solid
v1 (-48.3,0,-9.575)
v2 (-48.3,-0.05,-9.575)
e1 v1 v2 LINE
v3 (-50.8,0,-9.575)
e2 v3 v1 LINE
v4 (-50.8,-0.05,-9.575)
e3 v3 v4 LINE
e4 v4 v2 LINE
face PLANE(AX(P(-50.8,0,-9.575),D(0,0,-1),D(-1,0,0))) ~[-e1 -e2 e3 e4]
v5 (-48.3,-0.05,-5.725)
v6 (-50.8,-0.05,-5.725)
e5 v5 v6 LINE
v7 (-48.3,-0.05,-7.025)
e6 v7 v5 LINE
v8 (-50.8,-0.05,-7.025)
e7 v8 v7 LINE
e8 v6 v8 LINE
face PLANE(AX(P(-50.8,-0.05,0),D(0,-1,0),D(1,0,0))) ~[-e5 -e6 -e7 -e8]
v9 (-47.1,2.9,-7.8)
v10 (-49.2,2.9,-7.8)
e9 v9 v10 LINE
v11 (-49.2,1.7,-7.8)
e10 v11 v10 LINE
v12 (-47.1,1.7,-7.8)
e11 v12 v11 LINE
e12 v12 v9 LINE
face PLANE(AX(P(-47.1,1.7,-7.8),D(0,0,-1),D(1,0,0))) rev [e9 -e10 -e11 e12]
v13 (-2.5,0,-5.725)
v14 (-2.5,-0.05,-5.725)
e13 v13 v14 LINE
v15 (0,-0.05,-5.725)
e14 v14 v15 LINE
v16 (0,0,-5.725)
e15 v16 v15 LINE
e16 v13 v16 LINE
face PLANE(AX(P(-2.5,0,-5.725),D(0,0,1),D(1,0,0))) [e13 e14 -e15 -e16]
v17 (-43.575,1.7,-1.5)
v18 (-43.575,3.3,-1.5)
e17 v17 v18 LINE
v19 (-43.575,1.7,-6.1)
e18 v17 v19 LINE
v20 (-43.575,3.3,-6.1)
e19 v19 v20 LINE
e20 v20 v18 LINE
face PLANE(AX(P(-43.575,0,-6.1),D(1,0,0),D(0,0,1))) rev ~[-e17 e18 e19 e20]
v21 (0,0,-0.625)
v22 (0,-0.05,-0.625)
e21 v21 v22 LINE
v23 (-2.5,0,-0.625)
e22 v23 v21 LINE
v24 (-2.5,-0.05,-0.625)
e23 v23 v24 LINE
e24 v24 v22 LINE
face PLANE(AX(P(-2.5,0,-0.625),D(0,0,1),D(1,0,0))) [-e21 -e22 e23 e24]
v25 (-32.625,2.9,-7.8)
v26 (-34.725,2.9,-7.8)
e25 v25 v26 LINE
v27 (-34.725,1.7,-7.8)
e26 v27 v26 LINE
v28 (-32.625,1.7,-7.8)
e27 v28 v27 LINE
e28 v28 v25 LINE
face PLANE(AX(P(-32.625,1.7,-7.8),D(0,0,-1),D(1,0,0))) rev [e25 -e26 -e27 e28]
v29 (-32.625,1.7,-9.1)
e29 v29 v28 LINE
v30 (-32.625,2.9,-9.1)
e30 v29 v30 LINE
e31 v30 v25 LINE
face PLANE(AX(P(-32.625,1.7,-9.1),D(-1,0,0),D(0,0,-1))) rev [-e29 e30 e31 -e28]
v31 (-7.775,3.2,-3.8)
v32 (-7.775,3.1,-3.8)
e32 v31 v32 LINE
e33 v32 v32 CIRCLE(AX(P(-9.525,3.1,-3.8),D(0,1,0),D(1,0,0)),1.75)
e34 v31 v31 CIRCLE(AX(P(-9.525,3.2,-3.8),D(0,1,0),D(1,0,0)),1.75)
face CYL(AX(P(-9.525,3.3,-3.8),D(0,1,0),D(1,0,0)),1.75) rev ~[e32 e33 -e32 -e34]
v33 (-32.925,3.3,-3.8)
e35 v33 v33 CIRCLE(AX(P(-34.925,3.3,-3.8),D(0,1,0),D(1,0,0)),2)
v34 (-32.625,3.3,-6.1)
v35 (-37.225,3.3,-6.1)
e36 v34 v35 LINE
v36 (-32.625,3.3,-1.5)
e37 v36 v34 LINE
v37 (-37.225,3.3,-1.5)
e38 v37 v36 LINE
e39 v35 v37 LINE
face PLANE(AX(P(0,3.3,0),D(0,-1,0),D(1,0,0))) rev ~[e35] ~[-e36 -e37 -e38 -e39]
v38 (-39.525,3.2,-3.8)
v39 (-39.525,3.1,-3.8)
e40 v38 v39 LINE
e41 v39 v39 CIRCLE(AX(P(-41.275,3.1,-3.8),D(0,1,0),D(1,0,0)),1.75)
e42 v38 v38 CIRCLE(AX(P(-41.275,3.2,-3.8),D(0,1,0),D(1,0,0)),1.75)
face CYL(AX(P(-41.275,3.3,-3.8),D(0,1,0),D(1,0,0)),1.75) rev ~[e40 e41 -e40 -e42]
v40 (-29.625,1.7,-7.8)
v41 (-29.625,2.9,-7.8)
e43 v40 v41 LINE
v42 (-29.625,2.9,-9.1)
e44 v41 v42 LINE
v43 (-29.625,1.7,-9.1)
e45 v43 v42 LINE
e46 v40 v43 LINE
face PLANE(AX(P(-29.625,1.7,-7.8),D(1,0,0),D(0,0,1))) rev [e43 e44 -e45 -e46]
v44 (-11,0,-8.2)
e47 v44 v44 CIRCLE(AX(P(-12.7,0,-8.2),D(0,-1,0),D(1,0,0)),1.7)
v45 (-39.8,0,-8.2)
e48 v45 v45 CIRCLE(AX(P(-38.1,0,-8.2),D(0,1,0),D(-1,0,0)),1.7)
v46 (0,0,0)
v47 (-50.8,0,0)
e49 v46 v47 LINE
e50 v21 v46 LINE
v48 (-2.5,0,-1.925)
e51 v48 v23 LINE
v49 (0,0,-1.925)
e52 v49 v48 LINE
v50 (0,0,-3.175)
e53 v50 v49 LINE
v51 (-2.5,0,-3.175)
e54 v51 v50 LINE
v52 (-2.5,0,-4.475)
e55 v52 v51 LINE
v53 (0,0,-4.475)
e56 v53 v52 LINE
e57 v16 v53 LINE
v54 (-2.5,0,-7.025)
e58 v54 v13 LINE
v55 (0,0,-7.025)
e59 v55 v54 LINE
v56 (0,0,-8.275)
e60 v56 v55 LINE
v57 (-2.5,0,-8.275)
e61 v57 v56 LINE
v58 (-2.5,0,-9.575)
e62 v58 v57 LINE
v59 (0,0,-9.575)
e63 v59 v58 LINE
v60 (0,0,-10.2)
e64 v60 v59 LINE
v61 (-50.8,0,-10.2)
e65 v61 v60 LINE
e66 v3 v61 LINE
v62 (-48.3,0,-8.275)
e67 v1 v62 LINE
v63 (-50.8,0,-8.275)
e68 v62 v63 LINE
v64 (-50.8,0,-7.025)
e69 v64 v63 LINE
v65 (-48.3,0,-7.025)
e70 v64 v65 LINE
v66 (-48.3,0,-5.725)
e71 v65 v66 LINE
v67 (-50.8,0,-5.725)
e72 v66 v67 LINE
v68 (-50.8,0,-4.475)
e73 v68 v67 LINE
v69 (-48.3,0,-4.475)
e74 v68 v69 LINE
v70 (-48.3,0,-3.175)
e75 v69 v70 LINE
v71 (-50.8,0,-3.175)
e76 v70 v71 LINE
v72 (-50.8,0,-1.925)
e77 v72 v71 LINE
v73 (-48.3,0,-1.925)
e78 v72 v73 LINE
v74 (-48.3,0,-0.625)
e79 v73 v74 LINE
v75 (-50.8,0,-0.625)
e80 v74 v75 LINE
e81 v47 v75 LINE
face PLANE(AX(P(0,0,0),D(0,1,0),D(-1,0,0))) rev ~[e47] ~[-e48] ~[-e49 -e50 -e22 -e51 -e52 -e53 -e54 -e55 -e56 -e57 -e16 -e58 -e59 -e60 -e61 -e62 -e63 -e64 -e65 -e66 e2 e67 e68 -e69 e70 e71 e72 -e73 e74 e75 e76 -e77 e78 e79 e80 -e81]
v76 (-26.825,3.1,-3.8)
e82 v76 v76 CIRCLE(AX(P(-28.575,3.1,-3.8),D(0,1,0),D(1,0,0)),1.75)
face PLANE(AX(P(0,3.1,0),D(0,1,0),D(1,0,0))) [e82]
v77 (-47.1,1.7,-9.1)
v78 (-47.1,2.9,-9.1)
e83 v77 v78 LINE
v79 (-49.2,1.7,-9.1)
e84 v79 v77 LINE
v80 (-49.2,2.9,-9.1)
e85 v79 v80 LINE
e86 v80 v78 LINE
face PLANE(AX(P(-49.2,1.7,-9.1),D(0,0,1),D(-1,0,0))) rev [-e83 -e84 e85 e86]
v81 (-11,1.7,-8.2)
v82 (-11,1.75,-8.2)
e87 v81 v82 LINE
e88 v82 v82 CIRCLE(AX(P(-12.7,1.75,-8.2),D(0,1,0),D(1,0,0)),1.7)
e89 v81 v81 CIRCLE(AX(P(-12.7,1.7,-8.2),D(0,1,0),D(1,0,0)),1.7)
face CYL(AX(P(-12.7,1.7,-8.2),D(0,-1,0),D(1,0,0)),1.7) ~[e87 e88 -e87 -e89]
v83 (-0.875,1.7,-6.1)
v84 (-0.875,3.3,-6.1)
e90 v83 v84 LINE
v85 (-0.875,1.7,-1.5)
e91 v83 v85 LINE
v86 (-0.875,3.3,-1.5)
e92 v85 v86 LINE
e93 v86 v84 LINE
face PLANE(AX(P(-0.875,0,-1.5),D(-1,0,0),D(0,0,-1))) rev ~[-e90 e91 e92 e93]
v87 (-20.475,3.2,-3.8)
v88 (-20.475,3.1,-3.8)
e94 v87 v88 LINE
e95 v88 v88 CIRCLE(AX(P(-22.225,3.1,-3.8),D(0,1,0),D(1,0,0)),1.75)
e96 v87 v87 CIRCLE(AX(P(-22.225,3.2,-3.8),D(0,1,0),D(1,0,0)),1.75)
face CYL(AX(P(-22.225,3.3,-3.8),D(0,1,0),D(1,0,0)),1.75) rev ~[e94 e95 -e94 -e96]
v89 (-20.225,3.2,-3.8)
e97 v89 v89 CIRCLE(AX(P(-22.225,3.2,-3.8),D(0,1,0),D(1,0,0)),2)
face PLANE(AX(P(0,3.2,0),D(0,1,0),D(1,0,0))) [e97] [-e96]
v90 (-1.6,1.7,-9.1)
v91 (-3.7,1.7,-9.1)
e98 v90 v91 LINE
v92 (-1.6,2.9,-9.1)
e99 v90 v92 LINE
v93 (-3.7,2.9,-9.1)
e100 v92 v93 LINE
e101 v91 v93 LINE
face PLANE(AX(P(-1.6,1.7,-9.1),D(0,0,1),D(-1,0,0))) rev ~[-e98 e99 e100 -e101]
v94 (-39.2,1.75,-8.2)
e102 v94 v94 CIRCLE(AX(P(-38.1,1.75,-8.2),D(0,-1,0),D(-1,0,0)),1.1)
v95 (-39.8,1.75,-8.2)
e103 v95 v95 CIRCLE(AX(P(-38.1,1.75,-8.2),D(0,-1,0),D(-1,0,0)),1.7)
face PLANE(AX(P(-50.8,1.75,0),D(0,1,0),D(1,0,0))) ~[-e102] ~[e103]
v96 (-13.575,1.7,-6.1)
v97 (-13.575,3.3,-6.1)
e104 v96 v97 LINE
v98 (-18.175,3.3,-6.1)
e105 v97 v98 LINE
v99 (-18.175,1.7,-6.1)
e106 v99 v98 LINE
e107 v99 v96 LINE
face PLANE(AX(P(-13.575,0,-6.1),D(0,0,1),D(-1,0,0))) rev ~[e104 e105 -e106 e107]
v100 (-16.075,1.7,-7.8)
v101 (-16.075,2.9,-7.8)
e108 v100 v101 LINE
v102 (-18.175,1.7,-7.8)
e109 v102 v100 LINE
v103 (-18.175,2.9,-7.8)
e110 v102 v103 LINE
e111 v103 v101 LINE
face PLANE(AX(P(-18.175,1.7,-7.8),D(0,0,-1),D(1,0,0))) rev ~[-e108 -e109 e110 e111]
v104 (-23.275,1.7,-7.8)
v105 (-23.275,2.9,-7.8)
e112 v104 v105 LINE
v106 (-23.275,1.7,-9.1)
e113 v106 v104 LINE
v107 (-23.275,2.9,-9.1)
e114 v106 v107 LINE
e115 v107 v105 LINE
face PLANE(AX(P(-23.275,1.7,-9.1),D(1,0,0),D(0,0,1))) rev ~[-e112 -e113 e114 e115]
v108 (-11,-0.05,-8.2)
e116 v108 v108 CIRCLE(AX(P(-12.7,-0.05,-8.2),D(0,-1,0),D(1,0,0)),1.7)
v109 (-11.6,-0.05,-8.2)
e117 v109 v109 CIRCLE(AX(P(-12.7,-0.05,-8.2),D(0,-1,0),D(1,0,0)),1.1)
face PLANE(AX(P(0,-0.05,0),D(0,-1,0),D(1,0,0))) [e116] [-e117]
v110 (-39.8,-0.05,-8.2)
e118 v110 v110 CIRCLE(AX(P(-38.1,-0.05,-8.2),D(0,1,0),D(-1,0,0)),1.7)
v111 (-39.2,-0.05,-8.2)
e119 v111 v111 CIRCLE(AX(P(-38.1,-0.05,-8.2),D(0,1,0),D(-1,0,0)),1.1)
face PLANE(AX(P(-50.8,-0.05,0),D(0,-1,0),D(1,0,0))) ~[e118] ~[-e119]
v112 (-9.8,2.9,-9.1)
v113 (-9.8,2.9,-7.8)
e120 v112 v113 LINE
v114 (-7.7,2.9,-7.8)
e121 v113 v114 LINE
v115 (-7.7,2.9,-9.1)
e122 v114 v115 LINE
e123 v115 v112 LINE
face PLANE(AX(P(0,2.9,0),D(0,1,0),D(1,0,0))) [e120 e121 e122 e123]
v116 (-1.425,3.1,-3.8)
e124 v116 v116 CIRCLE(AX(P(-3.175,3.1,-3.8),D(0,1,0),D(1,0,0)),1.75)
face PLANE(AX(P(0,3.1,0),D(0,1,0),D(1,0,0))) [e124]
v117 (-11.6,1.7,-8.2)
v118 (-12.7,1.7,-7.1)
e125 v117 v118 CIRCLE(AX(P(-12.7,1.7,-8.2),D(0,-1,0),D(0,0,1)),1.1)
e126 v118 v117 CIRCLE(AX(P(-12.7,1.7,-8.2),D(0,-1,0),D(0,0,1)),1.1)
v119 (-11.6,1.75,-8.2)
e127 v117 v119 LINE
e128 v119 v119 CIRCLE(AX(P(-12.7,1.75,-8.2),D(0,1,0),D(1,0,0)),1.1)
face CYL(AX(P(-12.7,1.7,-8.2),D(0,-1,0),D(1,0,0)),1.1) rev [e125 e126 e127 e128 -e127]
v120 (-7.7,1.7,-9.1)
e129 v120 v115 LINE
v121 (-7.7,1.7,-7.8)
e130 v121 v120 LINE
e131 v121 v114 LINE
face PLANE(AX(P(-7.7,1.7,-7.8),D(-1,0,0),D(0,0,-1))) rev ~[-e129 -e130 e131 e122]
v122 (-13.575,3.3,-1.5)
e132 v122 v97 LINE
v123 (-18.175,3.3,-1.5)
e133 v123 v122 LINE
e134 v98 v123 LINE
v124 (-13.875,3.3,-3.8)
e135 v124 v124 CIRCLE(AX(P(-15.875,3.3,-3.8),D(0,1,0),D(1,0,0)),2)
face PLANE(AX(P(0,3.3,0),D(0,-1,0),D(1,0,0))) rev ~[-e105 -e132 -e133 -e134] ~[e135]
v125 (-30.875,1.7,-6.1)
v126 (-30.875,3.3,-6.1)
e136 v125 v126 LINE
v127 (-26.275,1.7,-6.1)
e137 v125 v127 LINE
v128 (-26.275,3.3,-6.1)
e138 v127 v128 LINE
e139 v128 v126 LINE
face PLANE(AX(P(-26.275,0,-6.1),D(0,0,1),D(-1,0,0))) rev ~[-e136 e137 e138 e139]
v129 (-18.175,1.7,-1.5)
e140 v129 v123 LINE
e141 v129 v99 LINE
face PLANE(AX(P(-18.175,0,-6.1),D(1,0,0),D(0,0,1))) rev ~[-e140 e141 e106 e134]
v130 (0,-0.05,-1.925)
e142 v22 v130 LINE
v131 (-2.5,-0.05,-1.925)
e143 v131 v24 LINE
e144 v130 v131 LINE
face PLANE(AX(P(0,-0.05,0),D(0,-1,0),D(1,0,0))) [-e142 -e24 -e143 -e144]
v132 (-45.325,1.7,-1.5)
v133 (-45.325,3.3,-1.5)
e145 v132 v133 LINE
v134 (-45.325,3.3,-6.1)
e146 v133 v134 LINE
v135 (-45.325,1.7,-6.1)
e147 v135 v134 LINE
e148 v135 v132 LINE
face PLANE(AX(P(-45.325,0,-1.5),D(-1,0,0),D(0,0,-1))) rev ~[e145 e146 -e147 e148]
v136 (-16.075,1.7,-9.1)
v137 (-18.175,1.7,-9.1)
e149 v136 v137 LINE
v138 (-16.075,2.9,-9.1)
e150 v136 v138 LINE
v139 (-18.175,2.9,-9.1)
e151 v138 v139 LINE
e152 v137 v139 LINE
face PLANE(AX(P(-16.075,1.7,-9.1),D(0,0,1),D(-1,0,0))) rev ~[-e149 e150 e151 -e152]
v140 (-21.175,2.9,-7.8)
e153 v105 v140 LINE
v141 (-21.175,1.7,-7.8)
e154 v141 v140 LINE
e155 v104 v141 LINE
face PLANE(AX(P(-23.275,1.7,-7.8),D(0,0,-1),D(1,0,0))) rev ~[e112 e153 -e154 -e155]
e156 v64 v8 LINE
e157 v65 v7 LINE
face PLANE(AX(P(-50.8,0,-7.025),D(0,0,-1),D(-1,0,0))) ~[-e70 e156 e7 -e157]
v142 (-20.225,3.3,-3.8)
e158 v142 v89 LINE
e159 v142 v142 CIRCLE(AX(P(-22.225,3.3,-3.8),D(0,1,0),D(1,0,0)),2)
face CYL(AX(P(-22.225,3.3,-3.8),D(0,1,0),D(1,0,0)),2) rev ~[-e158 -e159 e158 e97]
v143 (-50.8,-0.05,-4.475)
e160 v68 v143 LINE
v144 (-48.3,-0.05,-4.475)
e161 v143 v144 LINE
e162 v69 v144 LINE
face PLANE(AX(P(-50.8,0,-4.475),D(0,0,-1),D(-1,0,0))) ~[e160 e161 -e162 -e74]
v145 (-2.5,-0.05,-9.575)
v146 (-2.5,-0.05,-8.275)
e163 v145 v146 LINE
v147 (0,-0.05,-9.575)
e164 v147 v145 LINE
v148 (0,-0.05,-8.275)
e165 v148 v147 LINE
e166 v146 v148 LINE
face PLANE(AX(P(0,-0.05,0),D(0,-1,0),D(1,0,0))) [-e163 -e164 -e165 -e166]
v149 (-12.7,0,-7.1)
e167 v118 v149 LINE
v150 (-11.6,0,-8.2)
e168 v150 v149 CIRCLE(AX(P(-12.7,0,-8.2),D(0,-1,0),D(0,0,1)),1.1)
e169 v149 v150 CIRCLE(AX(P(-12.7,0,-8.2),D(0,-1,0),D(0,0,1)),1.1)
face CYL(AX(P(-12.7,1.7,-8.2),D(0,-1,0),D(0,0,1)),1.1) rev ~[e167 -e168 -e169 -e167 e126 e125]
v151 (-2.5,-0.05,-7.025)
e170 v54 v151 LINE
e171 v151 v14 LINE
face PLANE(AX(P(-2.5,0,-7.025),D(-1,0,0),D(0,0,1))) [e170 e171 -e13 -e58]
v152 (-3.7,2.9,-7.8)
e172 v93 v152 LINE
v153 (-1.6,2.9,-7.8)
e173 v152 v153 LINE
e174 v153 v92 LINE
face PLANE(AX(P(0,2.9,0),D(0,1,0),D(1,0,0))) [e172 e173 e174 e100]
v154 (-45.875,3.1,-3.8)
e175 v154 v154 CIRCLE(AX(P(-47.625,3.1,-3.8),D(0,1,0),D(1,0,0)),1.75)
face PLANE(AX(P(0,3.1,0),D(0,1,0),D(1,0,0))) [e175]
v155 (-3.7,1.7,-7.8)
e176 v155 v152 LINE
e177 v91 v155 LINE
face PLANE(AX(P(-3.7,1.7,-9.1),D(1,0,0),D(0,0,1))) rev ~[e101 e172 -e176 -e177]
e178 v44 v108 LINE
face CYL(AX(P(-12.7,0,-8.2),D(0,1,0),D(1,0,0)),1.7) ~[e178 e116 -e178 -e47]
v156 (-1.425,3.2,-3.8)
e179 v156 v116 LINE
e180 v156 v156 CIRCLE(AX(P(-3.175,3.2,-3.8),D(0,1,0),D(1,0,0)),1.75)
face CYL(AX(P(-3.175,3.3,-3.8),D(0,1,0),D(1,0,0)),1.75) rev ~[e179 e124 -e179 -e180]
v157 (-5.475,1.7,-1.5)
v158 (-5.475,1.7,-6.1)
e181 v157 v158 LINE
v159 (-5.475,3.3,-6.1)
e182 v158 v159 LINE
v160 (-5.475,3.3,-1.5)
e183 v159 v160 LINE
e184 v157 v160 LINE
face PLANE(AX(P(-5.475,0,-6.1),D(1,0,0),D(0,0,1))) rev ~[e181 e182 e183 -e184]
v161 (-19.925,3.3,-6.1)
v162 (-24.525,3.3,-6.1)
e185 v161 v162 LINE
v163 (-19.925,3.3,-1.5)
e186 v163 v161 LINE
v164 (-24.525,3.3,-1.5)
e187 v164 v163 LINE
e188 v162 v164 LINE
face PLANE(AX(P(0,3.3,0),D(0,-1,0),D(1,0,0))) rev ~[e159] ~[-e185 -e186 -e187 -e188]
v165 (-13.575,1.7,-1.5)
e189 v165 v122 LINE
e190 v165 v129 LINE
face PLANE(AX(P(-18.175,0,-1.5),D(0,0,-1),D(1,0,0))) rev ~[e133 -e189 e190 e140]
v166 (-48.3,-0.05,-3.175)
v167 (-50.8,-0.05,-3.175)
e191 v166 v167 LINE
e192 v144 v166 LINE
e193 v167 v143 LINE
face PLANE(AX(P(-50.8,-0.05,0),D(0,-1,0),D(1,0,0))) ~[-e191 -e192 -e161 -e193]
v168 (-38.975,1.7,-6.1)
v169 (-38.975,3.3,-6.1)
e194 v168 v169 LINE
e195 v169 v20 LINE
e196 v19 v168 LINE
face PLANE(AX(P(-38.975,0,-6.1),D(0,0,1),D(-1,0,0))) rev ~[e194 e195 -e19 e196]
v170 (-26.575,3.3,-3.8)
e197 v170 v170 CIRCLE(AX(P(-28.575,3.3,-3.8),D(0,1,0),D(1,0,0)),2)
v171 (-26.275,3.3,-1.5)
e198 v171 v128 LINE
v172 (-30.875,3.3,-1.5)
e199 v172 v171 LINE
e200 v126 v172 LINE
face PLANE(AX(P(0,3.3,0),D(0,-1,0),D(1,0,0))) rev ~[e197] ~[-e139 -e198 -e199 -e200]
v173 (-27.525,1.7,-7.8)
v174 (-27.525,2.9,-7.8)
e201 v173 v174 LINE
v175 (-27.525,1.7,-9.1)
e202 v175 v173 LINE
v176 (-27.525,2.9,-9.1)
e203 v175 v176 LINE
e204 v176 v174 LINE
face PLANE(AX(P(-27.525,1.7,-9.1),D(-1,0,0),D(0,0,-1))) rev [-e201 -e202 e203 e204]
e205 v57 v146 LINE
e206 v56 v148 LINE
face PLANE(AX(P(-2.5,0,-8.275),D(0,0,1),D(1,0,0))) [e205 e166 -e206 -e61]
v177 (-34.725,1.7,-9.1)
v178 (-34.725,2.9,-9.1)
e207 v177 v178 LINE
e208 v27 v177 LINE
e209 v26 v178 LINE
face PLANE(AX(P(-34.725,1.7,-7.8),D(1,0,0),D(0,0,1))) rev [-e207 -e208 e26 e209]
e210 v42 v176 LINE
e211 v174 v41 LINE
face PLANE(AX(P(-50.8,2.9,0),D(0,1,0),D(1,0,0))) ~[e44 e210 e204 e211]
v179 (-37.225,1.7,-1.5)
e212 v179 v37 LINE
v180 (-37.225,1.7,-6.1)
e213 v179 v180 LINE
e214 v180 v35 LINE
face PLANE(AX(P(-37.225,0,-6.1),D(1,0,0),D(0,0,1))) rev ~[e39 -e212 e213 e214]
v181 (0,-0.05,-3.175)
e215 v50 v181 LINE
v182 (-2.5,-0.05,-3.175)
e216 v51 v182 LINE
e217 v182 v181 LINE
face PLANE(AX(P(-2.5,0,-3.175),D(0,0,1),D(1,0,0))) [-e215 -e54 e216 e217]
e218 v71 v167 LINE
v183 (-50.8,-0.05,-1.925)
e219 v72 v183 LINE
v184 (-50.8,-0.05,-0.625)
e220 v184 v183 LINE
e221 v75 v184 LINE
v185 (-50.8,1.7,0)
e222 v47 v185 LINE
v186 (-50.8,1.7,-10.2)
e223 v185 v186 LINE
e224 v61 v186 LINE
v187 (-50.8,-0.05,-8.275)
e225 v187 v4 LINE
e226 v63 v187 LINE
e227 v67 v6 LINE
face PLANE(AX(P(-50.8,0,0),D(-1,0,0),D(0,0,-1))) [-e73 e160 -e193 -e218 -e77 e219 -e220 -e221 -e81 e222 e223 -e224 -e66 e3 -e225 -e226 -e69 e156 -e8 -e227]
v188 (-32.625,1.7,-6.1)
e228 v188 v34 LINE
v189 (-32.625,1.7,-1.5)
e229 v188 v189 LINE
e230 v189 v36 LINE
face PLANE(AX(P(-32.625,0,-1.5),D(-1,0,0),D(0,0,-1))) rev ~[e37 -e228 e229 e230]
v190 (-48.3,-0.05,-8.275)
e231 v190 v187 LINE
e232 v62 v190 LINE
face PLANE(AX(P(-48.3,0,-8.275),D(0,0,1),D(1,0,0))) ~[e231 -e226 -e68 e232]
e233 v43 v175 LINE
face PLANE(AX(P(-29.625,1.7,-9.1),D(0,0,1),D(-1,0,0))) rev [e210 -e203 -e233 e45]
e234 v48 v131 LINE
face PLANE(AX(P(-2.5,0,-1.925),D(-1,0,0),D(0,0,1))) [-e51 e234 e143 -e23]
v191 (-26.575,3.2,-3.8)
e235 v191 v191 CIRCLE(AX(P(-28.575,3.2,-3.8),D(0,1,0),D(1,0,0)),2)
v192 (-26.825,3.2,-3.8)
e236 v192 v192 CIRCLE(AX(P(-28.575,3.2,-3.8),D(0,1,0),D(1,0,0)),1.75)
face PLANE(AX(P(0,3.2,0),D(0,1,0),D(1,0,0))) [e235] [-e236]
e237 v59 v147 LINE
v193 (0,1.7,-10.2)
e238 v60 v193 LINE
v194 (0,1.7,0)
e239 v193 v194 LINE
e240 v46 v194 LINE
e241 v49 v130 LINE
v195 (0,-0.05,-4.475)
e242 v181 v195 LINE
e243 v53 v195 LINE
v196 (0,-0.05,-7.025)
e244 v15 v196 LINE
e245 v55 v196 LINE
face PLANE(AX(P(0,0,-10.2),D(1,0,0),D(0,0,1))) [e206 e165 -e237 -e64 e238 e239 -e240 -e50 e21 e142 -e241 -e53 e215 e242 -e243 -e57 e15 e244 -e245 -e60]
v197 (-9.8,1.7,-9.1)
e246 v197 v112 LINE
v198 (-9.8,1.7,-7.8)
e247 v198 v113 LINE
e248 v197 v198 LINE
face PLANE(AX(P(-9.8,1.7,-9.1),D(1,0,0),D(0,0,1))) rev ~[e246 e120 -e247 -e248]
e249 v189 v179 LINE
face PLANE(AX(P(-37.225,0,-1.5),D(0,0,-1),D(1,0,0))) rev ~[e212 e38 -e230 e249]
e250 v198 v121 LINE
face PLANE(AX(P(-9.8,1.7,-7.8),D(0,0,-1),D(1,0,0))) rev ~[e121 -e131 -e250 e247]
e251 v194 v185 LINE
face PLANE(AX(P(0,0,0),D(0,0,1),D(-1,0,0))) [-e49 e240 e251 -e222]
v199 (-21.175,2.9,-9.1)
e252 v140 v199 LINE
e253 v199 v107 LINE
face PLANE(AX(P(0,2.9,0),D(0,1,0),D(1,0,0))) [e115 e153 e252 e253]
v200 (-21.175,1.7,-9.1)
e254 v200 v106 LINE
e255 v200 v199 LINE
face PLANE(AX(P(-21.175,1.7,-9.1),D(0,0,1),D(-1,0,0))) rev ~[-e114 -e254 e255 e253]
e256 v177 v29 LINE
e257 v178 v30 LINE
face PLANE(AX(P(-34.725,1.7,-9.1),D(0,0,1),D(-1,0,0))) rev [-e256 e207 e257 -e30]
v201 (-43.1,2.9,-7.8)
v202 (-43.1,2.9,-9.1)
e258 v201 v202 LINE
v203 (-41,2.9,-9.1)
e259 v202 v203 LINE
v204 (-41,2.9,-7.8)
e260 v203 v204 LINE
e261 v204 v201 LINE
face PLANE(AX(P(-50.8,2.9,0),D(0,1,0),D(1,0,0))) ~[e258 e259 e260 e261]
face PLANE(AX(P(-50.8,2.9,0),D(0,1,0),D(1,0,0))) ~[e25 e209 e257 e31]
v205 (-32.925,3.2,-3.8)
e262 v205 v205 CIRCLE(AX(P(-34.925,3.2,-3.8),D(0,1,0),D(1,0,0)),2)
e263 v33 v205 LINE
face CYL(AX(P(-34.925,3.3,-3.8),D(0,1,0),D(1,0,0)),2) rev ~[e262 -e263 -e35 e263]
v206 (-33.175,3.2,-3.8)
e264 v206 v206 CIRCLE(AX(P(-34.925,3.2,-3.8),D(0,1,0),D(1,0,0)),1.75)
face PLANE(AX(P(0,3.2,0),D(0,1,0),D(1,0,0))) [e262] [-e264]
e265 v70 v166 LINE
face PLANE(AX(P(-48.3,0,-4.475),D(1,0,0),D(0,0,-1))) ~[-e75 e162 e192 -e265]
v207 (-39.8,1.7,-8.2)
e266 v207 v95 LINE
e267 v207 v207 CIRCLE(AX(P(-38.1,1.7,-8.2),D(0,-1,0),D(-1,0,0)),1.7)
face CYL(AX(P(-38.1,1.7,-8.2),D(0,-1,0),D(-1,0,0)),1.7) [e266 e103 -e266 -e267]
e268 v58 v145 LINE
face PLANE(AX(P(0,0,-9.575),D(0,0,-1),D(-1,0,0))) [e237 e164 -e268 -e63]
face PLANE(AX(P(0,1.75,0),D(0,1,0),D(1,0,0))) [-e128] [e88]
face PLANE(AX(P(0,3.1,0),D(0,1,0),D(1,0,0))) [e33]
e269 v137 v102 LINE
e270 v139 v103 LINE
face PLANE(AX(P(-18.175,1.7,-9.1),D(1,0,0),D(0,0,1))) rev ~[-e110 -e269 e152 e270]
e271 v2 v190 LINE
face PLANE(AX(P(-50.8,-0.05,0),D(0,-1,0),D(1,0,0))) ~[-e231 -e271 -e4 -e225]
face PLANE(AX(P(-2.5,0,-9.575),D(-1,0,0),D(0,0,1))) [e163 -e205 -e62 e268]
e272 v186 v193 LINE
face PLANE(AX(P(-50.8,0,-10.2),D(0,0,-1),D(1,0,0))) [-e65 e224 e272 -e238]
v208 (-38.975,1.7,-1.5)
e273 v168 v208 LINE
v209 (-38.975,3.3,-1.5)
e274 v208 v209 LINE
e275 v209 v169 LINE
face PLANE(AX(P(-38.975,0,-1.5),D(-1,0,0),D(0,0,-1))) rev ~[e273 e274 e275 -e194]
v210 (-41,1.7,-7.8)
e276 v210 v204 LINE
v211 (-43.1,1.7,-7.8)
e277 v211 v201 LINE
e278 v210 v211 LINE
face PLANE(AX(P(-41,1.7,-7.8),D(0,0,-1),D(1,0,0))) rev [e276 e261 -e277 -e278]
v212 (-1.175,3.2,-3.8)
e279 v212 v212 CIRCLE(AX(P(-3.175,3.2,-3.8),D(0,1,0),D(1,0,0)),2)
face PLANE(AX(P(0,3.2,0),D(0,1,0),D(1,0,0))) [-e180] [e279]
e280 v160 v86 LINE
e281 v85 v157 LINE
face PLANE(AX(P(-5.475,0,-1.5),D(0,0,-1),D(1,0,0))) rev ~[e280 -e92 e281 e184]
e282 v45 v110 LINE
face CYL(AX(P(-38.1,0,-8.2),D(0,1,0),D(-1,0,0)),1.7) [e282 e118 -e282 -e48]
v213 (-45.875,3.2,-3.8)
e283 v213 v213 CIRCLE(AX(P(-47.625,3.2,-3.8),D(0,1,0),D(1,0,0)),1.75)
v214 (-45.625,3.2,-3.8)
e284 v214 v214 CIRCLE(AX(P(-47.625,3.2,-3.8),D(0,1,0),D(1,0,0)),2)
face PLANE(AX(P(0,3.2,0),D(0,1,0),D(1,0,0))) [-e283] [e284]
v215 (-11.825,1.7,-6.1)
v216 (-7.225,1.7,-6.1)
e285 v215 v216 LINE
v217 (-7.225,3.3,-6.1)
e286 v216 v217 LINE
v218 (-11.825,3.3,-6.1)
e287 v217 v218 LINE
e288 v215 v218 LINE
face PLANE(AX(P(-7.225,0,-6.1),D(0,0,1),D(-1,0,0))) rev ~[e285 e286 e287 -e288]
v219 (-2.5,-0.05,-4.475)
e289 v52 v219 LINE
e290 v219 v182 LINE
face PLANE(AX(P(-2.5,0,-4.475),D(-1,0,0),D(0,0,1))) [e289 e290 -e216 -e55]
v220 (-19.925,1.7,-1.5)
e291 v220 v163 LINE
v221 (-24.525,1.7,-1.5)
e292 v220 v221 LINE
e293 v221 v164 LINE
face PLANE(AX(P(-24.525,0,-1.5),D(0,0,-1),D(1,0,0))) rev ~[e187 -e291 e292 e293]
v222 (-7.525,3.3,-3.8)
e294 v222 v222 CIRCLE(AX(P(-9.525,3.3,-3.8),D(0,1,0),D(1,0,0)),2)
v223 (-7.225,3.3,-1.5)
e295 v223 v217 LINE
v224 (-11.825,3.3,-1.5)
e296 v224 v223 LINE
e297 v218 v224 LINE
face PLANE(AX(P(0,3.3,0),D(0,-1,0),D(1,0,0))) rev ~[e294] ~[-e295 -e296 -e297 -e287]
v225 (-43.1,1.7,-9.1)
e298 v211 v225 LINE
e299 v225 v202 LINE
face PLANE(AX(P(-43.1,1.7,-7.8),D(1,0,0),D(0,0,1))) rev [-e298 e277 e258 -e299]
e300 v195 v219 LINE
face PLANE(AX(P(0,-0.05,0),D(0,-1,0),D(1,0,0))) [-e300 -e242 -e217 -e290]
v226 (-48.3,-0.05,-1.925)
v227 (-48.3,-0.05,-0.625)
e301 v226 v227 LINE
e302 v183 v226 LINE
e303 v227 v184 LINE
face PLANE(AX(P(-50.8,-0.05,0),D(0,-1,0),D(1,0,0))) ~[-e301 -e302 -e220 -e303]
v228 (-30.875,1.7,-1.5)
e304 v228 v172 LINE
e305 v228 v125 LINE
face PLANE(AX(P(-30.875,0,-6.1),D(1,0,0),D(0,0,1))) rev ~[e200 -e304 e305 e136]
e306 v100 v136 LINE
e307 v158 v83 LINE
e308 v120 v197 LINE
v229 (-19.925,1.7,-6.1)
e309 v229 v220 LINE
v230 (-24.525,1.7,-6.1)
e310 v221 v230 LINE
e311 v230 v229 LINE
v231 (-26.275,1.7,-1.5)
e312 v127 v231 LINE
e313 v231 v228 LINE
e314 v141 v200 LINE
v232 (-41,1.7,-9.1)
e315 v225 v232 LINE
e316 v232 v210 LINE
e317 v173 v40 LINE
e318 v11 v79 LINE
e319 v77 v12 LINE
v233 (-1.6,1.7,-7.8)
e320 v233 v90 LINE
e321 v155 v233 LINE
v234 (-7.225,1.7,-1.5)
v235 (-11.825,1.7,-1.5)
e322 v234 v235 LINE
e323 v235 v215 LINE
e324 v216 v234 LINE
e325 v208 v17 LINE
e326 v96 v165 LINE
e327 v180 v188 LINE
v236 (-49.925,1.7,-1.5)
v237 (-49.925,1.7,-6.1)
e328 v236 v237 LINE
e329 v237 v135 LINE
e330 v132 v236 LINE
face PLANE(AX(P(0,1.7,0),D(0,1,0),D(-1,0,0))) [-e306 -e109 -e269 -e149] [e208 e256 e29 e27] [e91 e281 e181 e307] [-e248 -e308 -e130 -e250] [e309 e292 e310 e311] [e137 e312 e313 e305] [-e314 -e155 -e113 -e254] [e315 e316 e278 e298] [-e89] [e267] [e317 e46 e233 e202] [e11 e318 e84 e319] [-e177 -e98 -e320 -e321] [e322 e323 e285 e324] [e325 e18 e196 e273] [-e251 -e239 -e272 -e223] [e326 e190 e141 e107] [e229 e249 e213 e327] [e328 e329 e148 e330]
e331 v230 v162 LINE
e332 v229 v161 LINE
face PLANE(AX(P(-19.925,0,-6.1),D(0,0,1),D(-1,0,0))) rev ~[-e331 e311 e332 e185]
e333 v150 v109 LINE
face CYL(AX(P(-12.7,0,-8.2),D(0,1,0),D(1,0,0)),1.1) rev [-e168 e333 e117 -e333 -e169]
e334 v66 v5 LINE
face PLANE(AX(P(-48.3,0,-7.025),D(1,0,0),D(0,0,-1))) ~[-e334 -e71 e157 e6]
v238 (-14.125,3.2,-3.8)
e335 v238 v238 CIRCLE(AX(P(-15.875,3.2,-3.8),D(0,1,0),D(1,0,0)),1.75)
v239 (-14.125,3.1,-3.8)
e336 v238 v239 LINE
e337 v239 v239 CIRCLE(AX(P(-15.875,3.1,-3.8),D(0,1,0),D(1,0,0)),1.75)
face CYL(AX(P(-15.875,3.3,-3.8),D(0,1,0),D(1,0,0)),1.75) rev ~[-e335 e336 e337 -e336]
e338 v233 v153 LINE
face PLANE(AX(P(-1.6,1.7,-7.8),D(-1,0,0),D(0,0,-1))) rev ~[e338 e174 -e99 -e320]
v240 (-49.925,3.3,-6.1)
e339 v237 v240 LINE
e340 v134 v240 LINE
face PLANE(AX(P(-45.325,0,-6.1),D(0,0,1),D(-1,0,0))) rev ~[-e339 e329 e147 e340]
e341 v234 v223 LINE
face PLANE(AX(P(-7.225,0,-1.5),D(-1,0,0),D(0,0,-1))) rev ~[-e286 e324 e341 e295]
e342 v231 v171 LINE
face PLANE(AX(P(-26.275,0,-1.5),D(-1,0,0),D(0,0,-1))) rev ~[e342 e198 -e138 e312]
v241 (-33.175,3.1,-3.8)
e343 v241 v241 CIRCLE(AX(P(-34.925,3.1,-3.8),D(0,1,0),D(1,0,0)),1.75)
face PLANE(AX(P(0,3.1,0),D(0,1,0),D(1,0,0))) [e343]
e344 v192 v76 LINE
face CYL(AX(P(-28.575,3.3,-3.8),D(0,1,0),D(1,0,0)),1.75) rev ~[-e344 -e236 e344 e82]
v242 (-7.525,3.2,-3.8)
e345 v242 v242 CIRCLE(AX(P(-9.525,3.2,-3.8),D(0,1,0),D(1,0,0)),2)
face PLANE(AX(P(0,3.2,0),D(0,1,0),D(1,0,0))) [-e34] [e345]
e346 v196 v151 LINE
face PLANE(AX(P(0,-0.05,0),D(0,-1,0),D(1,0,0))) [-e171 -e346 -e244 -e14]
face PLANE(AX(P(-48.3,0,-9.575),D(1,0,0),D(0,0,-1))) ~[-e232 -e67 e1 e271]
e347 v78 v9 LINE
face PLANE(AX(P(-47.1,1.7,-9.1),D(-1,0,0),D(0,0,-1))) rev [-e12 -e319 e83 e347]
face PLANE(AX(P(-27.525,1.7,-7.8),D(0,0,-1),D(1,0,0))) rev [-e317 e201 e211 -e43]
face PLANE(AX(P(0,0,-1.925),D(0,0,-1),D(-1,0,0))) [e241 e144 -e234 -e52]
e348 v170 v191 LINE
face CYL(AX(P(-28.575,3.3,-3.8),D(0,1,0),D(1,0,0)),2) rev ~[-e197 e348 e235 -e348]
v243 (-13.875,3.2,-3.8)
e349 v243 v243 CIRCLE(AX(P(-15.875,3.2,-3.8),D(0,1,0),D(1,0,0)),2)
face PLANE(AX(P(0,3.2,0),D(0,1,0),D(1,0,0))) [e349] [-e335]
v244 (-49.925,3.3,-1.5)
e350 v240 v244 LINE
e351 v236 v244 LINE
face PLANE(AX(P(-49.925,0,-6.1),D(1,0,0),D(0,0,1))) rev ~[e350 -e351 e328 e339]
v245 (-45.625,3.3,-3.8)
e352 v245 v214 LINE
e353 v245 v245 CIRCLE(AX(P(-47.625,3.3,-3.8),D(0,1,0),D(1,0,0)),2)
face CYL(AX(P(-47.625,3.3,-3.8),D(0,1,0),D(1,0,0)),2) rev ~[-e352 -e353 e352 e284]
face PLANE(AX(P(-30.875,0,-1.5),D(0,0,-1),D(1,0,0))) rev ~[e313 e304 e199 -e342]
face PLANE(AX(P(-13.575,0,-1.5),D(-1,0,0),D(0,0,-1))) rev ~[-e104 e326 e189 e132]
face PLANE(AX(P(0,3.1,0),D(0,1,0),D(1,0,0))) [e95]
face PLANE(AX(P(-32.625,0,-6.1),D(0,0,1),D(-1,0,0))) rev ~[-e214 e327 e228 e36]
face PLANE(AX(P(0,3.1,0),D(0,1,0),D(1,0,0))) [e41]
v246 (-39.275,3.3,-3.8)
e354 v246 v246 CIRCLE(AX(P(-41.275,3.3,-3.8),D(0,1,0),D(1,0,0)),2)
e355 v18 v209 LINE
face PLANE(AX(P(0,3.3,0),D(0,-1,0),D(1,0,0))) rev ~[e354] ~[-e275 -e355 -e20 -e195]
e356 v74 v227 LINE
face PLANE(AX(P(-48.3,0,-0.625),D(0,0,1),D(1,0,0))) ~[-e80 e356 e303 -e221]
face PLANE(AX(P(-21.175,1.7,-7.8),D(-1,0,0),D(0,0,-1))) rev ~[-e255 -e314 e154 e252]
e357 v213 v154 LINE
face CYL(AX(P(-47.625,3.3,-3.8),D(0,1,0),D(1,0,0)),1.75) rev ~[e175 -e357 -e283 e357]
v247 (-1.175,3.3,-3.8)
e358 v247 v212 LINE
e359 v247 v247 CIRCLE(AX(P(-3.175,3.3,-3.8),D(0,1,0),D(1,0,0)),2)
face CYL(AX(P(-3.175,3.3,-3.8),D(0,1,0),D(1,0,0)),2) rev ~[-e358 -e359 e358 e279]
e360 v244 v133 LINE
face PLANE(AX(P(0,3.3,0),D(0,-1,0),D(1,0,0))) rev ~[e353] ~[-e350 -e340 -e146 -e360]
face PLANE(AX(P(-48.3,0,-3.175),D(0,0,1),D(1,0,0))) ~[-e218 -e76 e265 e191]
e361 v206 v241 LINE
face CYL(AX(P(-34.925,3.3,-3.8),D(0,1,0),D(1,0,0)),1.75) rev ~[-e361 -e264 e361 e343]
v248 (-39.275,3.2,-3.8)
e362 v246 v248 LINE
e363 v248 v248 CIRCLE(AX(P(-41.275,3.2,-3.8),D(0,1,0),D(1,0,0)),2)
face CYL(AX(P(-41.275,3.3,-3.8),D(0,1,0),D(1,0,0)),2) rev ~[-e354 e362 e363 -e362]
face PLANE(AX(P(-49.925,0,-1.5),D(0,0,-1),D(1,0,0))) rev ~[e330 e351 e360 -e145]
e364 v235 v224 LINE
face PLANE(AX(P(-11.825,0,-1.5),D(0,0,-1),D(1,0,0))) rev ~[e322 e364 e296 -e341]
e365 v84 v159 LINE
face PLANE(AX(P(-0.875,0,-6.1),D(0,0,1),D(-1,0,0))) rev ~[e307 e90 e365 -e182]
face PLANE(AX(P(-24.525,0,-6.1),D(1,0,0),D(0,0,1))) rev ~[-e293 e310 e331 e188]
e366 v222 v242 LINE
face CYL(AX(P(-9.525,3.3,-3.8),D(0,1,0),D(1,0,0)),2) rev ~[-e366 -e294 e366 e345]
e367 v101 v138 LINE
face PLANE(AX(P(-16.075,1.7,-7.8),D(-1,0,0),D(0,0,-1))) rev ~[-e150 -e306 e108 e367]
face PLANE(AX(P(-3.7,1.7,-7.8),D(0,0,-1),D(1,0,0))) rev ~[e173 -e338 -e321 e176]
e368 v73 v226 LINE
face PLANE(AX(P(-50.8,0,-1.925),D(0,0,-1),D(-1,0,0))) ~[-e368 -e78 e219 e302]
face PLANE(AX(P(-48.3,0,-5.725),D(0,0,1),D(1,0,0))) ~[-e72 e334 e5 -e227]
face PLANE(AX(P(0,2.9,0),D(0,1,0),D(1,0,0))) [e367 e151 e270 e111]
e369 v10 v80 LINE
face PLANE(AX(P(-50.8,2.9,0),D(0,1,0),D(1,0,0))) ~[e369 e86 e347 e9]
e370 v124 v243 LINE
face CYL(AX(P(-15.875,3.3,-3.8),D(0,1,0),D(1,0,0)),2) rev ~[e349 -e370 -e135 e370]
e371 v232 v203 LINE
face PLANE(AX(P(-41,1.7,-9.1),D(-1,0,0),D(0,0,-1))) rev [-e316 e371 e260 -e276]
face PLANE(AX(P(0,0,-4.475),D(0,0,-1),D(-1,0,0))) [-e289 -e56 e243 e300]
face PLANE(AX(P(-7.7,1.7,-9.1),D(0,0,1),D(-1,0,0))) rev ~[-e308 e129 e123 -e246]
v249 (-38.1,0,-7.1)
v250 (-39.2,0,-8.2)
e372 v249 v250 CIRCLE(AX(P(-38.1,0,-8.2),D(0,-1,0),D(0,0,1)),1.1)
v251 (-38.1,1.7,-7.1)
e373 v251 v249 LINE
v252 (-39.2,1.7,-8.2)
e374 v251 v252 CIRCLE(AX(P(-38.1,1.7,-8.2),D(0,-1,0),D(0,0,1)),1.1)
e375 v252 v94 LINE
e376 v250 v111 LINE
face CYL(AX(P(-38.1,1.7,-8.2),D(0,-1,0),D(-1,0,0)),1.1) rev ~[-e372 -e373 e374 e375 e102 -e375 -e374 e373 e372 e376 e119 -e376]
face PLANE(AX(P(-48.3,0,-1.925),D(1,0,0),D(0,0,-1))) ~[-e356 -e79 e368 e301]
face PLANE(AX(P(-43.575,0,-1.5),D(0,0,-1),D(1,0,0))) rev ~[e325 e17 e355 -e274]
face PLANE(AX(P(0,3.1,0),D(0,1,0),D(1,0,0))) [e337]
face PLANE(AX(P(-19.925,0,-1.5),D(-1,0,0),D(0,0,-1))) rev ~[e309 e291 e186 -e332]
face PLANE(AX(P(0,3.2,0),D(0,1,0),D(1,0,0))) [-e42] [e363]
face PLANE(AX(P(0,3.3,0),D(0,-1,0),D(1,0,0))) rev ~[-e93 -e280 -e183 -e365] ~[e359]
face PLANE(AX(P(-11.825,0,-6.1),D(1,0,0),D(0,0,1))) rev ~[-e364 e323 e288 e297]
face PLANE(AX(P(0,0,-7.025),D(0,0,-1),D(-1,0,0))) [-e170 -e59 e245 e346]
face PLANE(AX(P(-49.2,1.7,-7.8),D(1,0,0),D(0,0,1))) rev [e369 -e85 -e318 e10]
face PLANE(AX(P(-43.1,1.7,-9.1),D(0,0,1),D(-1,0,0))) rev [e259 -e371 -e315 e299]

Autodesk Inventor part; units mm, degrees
ref_plane "YZ Plane" through (0, 0, 0) normal (1, 0, 0) x (0, 1, 0)
sketch "Sketch1" plane through (0, 0, 0) normal (0, 1, 0) x (-1, 0, 0)
  line L0 (0, 0) -> (50.8, 0)
  line L1 (50.8, 0) -> (50.8, -10.2)
  line L2 (50.8, -10.2) -> (0, -10.2)
  line L3 (0, -10.2) -> (0, 0)
  dimension "d0" = 50.8
  dimension "d1" = 10.2
extrude "Extrusion1" add sketch "Sketch1" along normal blind 1.7
sketch "Sketch2" plane through (0, 0, 0) normal (0, -1, 0) x (1, 0, 0)
  line L0 (-5.475, -1.5) -> (-0.875, -1.5)
  line L1 (-0.875, -1.5) -> (-0.875, -6.1)
  line L2 (-0.875, -6.1) -> (-5.475, -6.1)
  line L3 (-5.475, -6.1) -> (-5.475, -1.5)
  line L4 (0, 0) -> (0, -10.2) projected
  line L5 (-50.8, 0) -> (0, 0) projected
  line L6 (-11.825, -1.5) -> (-7.225, -1.5)
  line L7 (-7.225, -1.5) -> (-7.225, -6.1)
  line L8 (-7.225, -6.1) -> (-11.825, -6.1)
  line L9 (-11.825, -6.1) -> (-11.825, -1.5)
  line L10 (-18.175, -1.5) -> (-13.575, -1.5)
  line L11 (-13.575, -1.5) -> (-13.575, -6.1)
  line L12 (-13.575, -6.1) -> (-18.175, -6.1)
  line L13 (-18.175, -6.1) -> (-18.175, -1.5)
  line L14 (-24.525, -1.5) -> (-19.925, -1.5)
  line L15 (-19.925, -1.5) -> (-19.925, -6.1)
  line L16 (-19.925, -6.1) -> (-24.525, -6.1)
  line L17 (-24.525, -6.1) -> (-24.525, -1.5)
  line L18 (-30.875, -1.5) -> (-26.275, -1.5)
  line L19 (-26.275, -1.5) -> (-26.275, -6.1)
  line L20 (-26.275, -6.1) -> (-30.875, -6.1)
  line L21 (-30.875, -6.1) -> (-30.875, -1.5)
  line L22 (-37.225, -1.5) -> (-32.625, -1.5)
  line L23 (-32.625, -1.5) -> (-32.625, -6.1)
  line L24 (-32.625, -6.1) -> (-37.225, -6.1)
  line L25 (-37.225, -6.1) -> (-37.225, -1.5)
  line L26 (-43.575, -1.5) -> (-38.975, -1.5)
  line L27 (-38.975, -1.5) -> (-38.975, -6.1)
  line L28 (-38.975, -6.1) -> (-43.575, -6.1)
  line L29 (-43.575, -6.1) -> (-43.575, -1.5)
  line L30 (-49.925, -1.5) -> (-45.325, -1.5)
  line L31 (-45.325, -1.5) -> (-45.325, -6.1)
  line L32 (-45.325, -6.1) -> (-49.925, -6.1)
  line L33 (-49.925, -6.1) -> (-49.925, -1.5)
  dimension "d4" = 4.6
  dimension "d5" = 4.6
  dimension "d6" = 0.875
  dimension "d7" = 1.5
  dimension "d10" = 6.35
extrude "Extrusion2" add sketch "Sketch2" against normal blind 3.3
sketch "Sketch3" plane through (0, 3.3, 0) normal (0, 1, 0) x (1, 0, 0)
  line L0 (-5.475, 6.1) -> (-5.475, 1.5) projected
  line L1 (-0.875, 6.1) -> (-5.475, 6.1) projected
  circle A0 centre (-3.175, 3.8) radius 2
  circle A1 centre (-3.175, 3.8) radius 1.75
  circle A2 centre (-9.525, 3.8) radius 2
  circle A3 centre (-9.525, 3.8) radius 1.75
  circle A4 centre (-15.875, 3.8) radius 2
  circle A5 centre (-15.875, 3.8) radius 1.75
  circle A6 centre (-22.225, 3.8) radius 2
  circle A7 centre (-22.225, 3.8) radius 1.75
  circle A8 centre (-28.575, 3.8) radius 2
  circle A9 centre (-28.575, 3.8) radius 1.75
  circle A10 centre (-34.925, 3.8) radius 2
  circle A11 centre (-34.925, 3.8) radius 1.75
  circle A12 centre (-41.275, 3.8) radius 2
  circle A13 centre (-41.275, 3.8) radius 1.75
  circle A14 centre (-47.625, 3.8) radius 2
  circle A15 centre (-47.625, 3.8) radius 1.75
  point P0 (0, 0)
  point P1 (-3.175, 6.1)
  point P2 (-5.475, 3.8)
  dimension "d17" = 4
  dimension "d18" = 3.5
  dimension "d21" = 6.35
extrude "Extrusion3" cut sketch "Sketch3" against normal blind 0.2 contours A1 | A3 | A5 | A7 | A9 | A11 | A13 | A15
extrude "Extrusion4" cut sketch "Sketch3" against normal blind 0.1 contours A0 | A1 | A2 | A3 | A4 | A5 | A6 | A7 | A8 | A9 | A10 | A11 | A12 | A13 | A14 | A15
sketch "Sketch4" plane through (0, 1.7, 0) normal (0, 1, 0) x (1, 0, 0)
  line L0 (0, 0) -> (0, 10.2) projected
  line L1 (-50.8, 10.2) -> (-50.8, 0) projected
  line L2 (0, 10.2) -> (-50.8, 10.2) projected
  point P0 (-38.1, 8.2)
  point P1 (-12.7, 8.2)
  dimension "d37" = 12.7
  dimension "d39" = 12.7
  dimension "d40" = 2
hole "Hole1" at (-38.1, 1.7, -8.2) at (-12.7, 1.7, -8.2) direction (0, -1, 0) diameter 2.2 end through all
sketch "Sketch5" plane through (0, 1.7, 0) normal (0, 1, 0) x (1, 0, 0)
  line L0 (-3.7, 7.8) -> (-1.6, 7.8)
  line L1 (-1.6, 7.8) -> (-1.6, 9.1)
  line L2 (-1.6, 9.1) -> (-3.7, 9.1)
  line L3 (-3.7, 9.1) -> (-3.7, 7.8)
  line L4 (0, 0) -> (0, 10.2) projected
  line L5 (0, 10.2) -> (-50.8, 10.2) projected
  line L6 (-9.8, 7.8) -> (-7.7, 7.8)
  line L7 (-7.7, 7.8) -> (-7.7, 9.1)
  line L8 (-7.7, 9.1) -> (-9.8, 9.1)
  line L9 (-9.8, 9.1) -> (-9.8, 7.8)
  line L10 (-18.175, 7.8) -> (-16.075, 7.8)
  line L11 (-16.075, 7.8) -> (-16.075, 9.1)
  line L12 (-16.075, 9.1) -> (-18.175, 9.1)
  line L13 (-18.175, 9.1) -> (-18.175, 7.8)
  line L14 (-23.275, 7.8) -> (-21.175, 7.8)
  line L15 (-21.175, 7.8) -> (-21.175, 9.1)
  line L16 (-21.175, 9.1) -> (-23.275, 9.1)
  line L17 (-23.275, 9.1) -> (-23.275, 7.8)
  line L18 (-19.925, 6.1) -> (-24.525, 6.1) projected
  point P0 (-7.7, 8.45)
  point P1 (-18.175, 6.1)
  point P2 (-22.225, 7.8)
  point P3 (-22.225, 6.1)
  dimension "d41" = 2.1
  dimension "d42" = 1.3
  dimension "d43" = 3.7
  dimension "d44" = 2.4
  dimension "d45" = 2.1
  dimension "d46" = 1.3
  dimension "d47" = 2.1
  dimension "d48" = 1.3
  dimension "d49" = 2.1
  dimension "d50" = 1.3
  dimension "d51" = 4
extrude "Extrusion5" add sketch "Sketch5" along normal blind 1.2
ref_plane "Work Plane1" through (-25.4, 0, 0) normal (1, 0, 0) x (0, 0, -1)
sketch "Sketch6" plane through (0, 0, 0) normal (0, -1, 0) x (1, 0, 0)
  line L0 (0, -9.575) -> (-2.5, -9.575)
  line L1 (-2.5, -9.575) -> (-2.5, -8.275)
  line L2 (-2.5, -8.275) -> (0, -8.275)
  line L3 (0, -8.275) -> (0, -9.575)
  line L4 (0, -7.025) -> (-2.5, -7.025)
  line L5 (-2.5, -7.025) -> (-2.5, -5.725)
  line L6 (-2.5, -5.725) -> (0, -5.725)
  line L7 (0, -5.725) -> (0, -7.025)
  line L8 (0, -4.475) -> (-2.5, -4.475)
  line L9 (-2.5, -4.475) -> (-2.5, -3.175)
  line L10 (-2.5, -3.175) -> (0, -3.175)
  line L11 (0, -3.175) -> (0, -4.475)
  line L12 (0, -1.925) -> (-2.5, -1.925)
  line L13 (-2.5, -1.925) -> (-2.5, -0.625)
  line L14 (-2.5, -0.625) -> (0, -0.625)
  line L15 (0, -0.625) -> (0, -1.925)
  line L16 (0, -10.2) -> (-50.8, -10.2) projected
  line L17 (0, 0) -> (0, -10.2) projected
  circle A0 centre (-12.7, -8.2) radius 1.1 projected
  circle A1 centre (-12.7, -8.2) radius 1.1 projected
  circle A2 centre (-12.7, -8.2) radius 1.7
  dimension "d54" = 2.5
  dimension "d55" = 1.3
  dimension "d58" = 2.55
  dimension "d63" = 0.625
  dimension "d64" = 3.4
extrude "Extrusion6" add sketch "Sketch6" along normal blind 0.05
sketch "Sketch7" plane through (0, 1.7, 0) normal (0, 1, 0) x (1, 0, 0)
  circle A0 centre (-12.7, 8.2) radius 1.1 projected
  circle A1 centre (-12.7, 8.2) radius 1.7
  point P0 (0, 0)
  dimension "d67" = 3.4
extrude "Extrusion7" add sketch "Sketch7" along normal blind 0.05
mirror "Mirror1" about plane through (-25.4, 0, 0) normal (1, 0, 0) of "Extrusion7", "Extrusion5", "Extrusion6"
ref_plane "Work Plane2" through (0, 0, -5.1) normal (0, 0, -1) x (-1, 0, 0)
properties part number "LED"
